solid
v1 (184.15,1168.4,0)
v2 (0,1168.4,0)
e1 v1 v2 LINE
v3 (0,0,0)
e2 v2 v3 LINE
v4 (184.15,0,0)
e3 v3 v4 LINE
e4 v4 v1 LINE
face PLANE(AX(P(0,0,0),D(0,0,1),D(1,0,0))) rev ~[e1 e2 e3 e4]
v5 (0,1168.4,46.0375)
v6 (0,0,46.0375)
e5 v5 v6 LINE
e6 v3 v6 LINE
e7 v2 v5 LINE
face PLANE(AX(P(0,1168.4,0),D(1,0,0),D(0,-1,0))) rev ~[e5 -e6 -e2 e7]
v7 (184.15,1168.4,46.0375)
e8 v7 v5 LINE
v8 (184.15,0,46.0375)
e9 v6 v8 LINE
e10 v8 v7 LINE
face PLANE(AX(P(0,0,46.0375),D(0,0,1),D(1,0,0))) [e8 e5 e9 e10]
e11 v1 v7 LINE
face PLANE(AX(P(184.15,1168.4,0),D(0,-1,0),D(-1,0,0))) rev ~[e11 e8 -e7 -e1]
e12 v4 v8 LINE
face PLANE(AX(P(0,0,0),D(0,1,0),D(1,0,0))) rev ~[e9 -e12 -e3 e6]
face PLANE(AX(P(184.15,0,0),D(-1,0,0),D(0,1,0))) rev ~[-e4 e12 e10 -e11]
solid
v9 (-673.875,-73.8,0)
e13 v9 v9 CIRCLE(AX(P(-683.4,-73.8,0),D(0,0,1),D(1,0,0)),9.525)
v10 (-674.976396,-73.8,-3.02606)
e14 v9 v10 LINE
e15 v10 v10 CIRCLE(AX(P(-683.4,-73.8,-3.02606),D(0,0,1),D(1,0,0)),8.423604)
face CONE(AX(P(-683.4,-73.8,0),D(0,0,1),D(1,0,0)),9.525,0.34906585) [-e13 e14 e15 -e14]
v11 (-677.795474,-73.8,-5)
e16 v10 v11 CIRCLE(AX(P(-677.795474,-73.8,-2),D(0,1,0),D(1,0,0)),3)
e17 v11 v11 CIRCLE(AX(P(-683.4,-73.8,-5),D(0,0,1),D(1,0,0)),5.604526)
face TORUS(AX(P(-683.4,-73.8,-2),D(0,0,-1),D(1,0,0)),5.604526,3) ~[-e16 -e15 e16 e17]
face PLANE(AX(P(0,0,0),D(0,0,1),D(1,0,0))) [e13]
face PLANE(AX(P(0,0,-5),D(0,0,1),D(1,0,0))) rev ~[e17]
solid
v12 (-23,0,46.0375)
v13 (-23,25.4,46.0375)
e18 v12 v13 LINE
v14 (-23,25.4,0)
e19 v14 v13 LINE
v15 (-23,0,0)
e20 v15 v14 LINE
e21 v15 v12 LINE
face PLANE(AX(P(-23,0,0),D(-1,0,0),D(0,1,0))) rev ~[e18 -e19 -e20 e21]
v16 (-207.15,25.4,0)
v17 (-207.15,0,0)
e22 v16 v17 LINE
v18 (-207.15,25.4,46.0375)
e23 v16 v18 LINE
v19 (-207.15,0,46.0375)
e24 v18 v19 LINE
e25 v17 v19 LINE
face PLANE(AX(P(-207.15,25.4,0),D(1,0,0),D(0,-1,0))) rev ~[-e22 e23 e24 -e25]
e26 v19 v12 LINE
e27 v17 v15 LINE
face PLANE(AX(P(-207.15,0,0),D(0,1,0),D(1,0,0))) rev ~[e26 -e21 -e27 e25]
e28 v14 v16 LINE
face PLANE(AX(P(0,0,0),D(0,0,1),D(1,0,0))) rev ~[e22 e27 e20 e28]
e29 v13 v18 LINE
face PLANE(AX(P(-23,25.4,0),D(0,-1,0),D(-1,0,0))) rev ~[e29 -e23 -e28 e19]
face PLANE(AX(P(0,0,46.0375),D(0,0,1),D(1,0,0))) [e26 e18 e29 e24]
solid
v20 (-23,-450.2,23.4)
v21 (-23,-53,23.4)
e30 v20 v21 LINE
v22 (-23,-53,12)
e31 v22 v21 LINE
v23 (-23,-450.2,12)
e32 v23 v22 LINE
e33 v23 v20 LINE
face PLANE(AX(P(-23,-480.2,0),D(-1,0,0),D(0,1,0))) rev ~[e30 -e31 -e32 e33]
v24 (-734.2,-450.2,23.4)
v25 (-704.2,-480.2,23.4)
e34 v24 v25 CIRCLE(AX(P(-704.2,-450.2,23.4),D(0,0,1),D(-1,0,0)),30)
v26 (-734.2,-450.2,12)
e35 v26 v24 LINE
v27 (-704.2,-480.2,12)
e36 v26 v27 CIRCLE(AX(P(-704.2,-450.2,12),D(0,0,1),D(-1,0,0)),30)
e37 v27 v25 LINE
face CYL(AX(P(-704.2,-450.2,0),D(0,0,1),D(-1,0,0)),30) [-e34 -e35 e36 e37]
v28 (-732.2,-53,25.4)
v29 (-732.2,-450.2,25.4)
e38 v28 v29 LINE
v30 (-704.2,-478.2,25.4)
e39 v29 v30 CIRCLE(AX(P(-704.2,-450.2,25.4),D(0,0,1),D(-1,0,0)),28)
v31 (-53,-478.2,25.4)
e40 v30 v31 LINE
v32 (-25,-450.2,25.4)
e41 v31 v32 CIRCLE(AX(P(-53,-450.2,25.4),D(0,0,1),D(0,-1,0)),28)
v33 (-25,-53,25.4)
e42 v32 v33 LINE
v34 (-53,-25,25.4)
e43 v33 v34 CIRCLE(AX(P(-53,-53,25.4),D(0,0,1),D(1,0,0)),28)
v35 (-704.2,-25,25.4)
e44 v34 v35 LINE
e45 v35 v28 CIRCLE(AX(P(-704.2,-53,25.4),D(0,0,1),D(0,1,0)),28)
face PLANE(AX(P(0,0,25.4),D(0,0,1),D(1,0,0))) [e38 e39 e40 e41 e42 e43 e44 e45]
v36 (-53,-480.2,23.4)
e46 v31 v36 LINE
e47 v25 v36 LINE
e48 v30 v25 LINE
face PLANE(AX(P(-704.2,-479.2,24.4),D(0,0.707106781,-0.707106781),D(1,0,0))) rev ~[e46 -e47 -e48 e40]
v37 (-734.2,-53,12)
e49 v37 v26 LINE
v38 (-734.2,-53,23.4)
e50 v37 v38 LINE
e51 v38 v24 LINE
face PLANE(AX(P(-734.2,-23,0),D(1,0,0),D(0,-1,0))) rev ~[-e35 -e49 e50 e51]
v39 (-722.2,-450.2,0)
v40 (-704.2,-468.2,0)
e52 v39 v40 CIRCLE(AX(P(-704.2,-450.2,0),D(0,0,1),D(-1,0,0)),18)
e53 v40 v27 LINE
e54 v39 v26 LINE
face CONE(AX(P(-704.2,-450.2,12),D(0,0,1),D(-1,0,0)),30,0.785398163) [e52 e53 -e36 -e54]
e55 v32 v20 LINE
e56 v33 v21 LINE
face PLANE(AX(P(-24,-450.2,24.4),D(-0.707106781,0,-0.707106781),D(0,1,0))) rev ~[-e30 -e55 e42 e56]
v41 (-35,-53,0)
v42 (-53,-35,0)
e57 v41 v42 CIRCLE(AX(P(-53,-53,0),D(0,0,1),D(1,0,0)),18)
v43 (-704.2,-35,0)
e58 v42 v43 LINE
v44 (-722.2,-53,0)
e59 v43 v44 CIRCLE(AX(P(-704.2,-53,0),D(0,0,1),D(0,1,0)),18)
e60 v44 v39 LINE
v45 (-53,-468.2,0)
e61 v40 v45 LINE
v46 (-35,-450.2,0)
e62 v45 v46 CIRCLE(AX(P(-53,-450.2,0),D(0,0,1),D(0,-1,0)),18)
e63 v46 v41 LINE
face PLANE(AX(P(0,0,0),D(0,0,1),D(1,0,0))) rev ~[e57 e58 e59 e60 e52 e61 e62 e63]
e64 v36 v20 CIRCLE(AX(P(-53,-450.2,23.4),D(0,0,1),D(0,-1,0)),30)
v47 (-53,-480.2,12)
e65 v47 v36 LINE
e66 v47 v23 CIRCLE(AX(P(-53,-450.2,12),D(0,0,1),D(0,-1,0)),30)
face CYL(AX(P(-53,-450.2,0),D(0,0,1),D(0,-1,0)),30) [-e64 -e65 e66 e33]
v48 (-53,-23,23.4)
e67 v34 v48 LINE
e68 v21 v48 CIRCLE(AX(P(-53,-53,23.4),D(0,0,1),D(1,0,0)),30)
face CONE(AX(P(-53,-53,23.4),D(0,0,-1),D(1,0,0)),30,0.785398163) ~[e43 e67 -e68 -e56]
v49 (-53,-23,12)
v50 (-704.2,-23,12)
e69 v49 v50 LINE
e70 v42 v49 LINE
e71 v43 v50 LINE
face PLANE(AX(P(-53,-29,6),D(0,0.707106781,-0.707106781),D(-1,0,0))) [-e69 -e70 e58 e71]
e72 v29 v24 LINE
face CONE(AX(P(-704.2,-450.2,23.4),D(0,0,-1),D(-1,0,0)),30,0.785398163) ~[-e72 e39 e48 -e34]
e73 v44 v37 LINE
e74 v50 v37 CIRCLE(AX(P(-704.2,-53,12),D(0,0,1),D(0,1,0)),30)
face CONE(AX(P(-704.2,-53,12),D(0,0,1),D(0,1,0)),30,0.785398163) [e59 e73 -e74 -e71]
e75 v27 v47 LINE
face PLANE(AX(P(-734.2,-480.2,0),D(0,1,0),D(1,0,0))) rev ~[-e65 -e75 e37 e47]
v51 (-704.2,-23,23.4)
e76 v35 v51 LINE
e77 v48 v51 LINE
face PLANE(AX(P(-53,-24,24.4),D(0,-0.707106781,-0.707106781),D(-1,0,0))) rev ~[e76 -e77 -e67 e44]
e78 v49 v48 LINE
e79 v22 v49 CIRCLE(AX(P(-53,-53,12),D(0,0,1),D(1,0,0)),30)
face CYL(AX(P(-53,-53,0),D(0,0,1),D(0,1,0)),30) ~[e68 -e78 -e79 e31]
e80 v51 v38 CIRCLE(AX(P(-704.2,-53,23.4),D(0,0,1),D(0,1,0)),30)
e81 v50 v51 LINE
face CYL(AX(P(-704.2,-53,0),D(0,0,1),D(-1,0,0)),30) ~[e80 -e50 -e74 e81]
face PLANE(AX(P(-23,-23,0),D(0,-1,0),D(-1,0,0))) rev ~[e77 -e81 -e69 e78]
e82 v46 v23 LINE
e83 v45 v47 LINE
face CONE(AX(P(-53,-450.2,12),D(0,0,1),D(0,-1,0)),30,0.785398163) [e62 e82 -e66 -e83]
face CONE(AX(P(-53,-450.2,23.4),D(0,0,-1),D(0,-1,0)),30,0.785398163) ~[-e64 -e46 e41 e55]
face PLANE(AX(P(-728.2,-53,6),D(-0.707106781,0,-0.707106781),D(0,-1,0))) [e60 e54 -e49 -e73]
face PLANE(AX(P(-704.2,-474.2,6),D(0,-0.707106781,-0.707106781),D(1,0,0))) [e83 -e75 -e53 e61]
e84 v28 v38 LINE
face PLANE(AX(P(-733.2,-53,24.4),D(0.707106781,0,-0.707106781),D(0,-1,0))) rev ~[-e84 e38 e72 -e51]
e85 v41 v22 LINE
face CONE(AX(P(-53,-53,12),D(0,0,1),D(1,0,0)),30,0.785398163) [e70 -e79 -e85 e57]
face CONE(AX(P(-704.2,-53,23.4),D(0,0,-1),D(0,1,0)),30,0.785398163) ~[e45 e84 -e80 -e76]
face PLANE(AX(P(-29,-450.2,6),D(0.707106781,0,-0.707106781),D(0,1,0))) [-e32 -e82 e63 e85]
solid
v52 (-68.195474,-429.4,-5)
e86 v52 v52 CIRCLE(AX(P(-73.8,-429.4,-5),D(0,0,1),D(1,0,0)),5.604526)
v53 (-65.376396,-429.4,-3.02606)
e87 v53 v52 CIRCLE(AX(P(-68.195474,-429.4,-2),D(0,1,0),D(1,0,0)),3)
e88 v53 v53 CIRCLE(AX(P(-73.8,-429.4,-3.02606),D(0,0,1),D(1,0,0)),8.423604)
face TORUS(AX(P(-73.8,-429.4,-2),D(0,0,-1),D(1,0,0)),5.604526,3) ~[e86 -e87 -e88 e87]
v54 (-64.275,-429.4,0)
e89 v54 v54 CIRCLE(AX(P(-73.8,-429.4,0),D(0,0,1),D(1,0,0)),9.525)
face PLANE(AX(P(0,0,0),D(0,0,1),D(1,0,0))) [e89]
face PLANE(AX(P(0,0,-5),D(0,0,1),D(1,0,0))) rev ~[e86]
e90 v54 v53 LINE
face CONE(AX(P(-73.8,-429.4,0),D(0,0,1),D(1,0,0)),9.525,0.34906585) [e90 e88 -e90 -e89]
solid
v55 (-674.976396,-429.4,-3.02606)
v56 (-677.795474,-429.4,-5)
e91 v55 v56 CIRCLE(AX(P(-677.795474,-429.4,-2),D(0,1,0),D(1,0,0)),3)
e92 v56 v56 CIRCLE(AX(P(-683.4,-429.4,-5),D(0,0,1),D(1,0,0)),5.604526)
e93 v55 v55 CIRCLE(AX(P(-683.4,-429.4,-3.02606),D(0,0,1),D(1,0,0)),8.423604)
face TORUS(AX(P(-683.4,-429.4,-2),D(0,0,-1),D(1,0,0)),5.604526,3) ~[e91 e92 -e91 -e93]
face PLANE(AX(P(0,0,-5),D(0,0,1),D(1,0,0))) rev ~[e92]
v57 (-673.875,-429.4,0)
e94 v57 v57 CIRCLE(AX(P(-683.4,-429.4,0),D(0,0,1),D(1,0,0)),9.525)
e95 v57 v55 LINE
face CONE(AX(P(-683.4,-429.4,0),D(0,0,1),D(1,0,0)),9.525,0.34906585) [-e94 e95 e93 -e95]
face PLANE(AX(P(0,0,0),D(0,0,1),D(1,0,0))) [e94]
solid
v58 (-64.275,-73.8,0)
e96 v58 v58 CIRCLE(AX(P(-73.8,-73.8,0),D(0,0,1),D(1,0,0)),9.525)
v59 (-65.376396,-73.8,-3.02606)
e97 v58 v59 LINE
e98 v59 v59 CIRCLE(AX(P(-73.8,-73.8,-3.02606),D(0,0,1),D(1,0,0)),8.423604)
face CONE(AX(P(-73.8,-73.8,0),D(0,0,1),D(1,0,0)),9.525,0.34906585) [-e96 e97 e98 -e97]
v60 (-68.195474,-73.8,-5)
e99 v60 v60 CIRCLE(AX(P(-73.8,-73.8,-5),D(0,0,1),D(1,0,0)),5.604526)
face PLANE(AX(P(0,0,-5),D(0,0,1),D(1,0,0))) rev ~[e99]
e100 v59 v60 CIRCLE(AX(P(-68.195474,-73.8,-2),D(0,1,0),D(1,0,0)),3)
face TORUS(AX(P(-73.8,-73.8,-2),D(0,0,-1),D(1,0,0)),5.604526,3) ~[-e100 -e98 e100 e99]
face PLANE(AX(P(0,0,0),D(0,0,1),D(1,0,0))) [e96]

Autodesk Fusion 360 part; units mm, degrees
sketch "Sketch1" plane through (0, 0, 0) normal (0, 0, 1) x (1, 0, 0) in component "stock"
  line L0 (0, 0) -> (184.15, 0)
  line L1 (184.15, 0) -> (184.15, 1168.4)
  line L2 (184.15, 1168.4) -> (0, 1168.4)
  line L3 (0, 1168.4) -> (0, 0)
  line L4 (-207.15, 0) -> (-23, 0)
  line L5 (-23, 0) -> (-23, 25.4)
  line L6 (-23, 25.4) -> (-207.15, 25.4)
  line L7 (-207.15, 25.4) -> (-207.15, 0)
  line L8 (-207.15, 27.4) -> (-23, 27.4)
  line L9 (-23, 27.4) -> (-23, 52.8)
  line L10 (-207.15, 52.8) -> (-207.15, 27.4)
  line L11 (-23, 52.8) -> (-207.15, 52.8)
  line L12 (-207.15, 54.8) -> (-23, 54.8)
  line L13 (-23, 54.8) -> (-23, 80.2)
  line L14 (-207.15, 80.2) -> (-207.15, 54.8)
  line L15 (-23, 80.2) -> (-207.15, 80.2)
  line L16 (-207.15, 82.2) -> (-23, 82.2)
  line L17 (-23, 82.2) -> (-23, 107.6)
  line L18 (-207.15, 107.6) -> (-207.15, 82.2)
  line L19 (-23, 107.6) -> (-207.15, 107.6)
  line L20 (-207.15, 109.6) -> (-23, 109.6)
  line L21 (-23, 109.6) -> (-23, 135)
  line L22 (-207.15, 135) -> (-207.15, 109.6)
  line L23 (-23, 135) -> (-207.15, 135)
  line L24 (-207.15, 137) -> (-23, 137)
  line L25 (-23, 137) -> (-23, 162.4)
  line L26 (-207.15, 162.4) -> (-207.15, 137)
  line L27 (-23, 162.4) -> (-207.15, 162.4)
  line L28 (-207.15, 164.4) -> (-23, 164.4)
  line L29 (-23, 164.4) -> (-23, 189.8)
  line L30 (-207.15, 189.8) -> (-207.15, 164.4)
  line L31 (-23, 189.8) -> (-207.15, 189.8)
  line L32 (-207.15, 191.8) -> (-23, 191.8)
  line L33 (-23, 191.8) -> (-23, 217.2)
  line L34 (-207.15, 217.2) -> (-207.15, 191.8)
  line L35 (-23, 217.2) -> (-207.15, 217.2)
  line L36 (-207.15, 219.2) -> (-23, 219.2)
  line L37 (-23, 219.2) -> (-23, 244.6)
  line L38 (-207.15, 244.6) -> (-207.15, 219.2)
  line L39 (-23, 244.6) -> (-207.15, 244.6)
  line L40 (-207.15, 246.6) -> (-23, 246.6)
  line L41 (-23, 246.6) -> (-23, 272)
  line L42 (-207.15, 272) -> (-207.15, 246.6)
  line L43 (-23, 272) -> (-207.15, 272)
  line L44 (-207.15, 274) -> (-23, 274)
  line L45 (-23, 274) -> (-23, 299.4)
  line L46 (-207.15, 299.4) -> (-207.15, 274)
  line L47 (-23, 299.4) -> (-207.15, 299.4)
  line L48 (-207.15, 301.4) -> (-23, 301.4)
  line L49 (-23, 301.4) -> (-23, 326.8)
  line L50 (-207.15, 326.8) -> (-207.15, 301.4)
  line L51 (-23, 326.8) -> (-207.15, 326.8)
  line L52 (-207.15, 328.8) -> (-23, 328.8)
  line L53 (-23, 328.8) -> (-23, 354.2)
  line L54 (-207.15, 354.2) -> (-207.15, 328.8)
  line L55 (-23, 354.2) -> (-207.15, 354.2)
  line L56 (-207.15, 356.2) -> (-23, 356.2)
  line L57 (-23, 356.2) -> (-23, 381.6)
  line L58 (-207.15, 381.6) -> (-207.15, 356.2)
  line L59 (-23, 381.6) -> (-207.15, 381.6)
  line L60 (-207.15, 383.6) -> (-23, 383.6)
  line L61 (-23, 383.6) -> (-23, 409)
  line L62 (-207.15, 409) -> (-207.15, 383.6)
  line L63 (-23, 409) -> (-207.15, 409)
  line L64 (-207.15, 411) -> (-23, 411)
  line L65 (-23, 411) -> (-23, 436.4)
  line L66 (-207.15, 436.4) -> (-207.15, 411)
  line L67 (-23, 436.4) -> (-207.15, 436.4)
  line L68 (-207.15, 438.4) -> (-23, 438.4)
  line L69 (-23, 438.4) -> (-23, 463.8)
  line L70 (-207.15, 463.8) -> (-207.15, 438.4)
  line L71 (-23, 463.8) -> (-207.15, 463.8)
  line L72 (-207.15, 465.8) -> (-23, 465.8)
  line L73 (-23, 465.8) -> (-23, 491.2)
  line L74 (-207.15, 491.2) -> (-207.15, 465.8)
  line L75 (-23, 491.2) -> (-207.15, 491.2)
  line L76 (-207.15, 493.2) -> (-23, 493.2)
  line L77 (-23, 493.2) -> (-23, 518.6)
  line L78 (-207.15, 518.6) -> (-207.15, 493.2)
  line L79 (-23, 518.6) -> (-207.15, 518.6)
  line L80 (-207.15, 520.6) -> (-23, 520.6)
  line L81 (-23, 520.6) -> (-23, 546)
  line L82 (-207.15, 546) -> (-207.15, 520.6)
  line L83 (-23, 546) -> (-207.15, 546)
  line L84 (-207.15, 548) -> (-23, 548)
  line L85 (-23, 548) -> (-23, 573.4)
  line L86 (-207.15, 573.4) -> (-207.15, 548)
  line L87 (-23, 573.4) -> (-207.15, 573.4)
  line L88 (-207.15, 575.4) -> (-23, 575.4)
  line L89 (-23, 575.4) -> (-23, 600.8)
  line L90 (-207.15, 600.8) -> (-207.15, 575.4)
  line L91 (-23, 600.8) -> (-207.15, 600.8)
  line L92 (-207.15, 602.8) -> (-23, 602.8)
  line L93 (-23, 602.8) -> (-23, 628.2)
  line L94 (-207.15, 628.2) -> (-207.15, 602.8)
  line L95 (-23, 628.2) -> (-207.15, 628.2)
  line L96 (-207.15, 630.2) -> (-23, 630.2)
  line L97 (-23, 630.2) -> (-23, 655.6)
  line L98 (-207.15, 655.6) -> (-207.15, 630.2)
  line L99 (-23, 655.6) -> (-207.15, 655.6)
  line L100 (-207.15, 657.6) -> (-23, 657.6)
  line L101 (-23, 657.6) -> (-23, 683)
  line L102 (-207.15, 683) -> (-207.15, 657.6)
  line L103 (-23, 683) -> (-207.15, 683)
  line L104 (-207.15, 685) -> (-23, 685)
  line L105 (-23, 685) -> (-23, 710.4)
  line L106 (-207.15, 710.4) -> (-207.15, 685)
  line L107 (-23, 710.4) -> (-207.15, 710.4)
  line L108 (-207.15, 712.4) -> (-23, 712.4)
  line L109 (-23, 712.4) -> (-23, 737.8)
  line L110 (-207.15, 737.8) -> (-207.15, 712.4)
  line L111 (-23, 737.8) -> (-207.15, 737.8)
  line L112 (-207.15, 739.8) -> (-23, 739.8)
  line L113 (-23, 739.8) -> (-23, 765.2)
  line L114 (-207.15, 765.2) -> (-207.15, 739.8)
  line L115 (-23, 765.2) -> (-207.15, 765.2)
  line L116 (-207.15, 767.2) -> (-23, 767.2)
  line L117 (-23, 767.2) -> (-23, 792.6)
  line L118 (-207.15, 792.6) -> (-207.15, 767.2)
  line L119 (-23, 792.6) -> (-207.15, 792.6)
  line L120 (-207.15, 794.6) -> (-23, 794.6)
  line L121 (-23, 794.6) -> (-23, 820)
  line L122 (-207.15, 820) -> (-207.15, 794.6)
  line L123 (-23, 820) -> (-207.15, 820)
  line L124 (-207.15, 822) -> (-23, 822)
  line L125 (-23, 822) -> (-23, 847.4)
  line L126 (-207.15, 847.4) -> (-207.15, 822)
  line L127 (-23, 847.4) -> (-207.15, 847.4)
  line L128 (-207.15, 849.4) -> (-23, 849.4)
  line L129 (-23, 849.4) -> (-23, 874.8)
  line L130 (-207.15, 874.8) -> (-207.15, 849.4)
  line L131 (-23, 874.8) -> (-207.15, 874.8)
  line L132 (-207.15, 876.8) -> (-23, 876.8)
  line L133 (-23, 876.8) -> (-23, 902.2)
  line L134 (-207.15, 902.2) -> (-207.15, 876.8)
  line L135 (-23, 902.2) -> (-207.15, 902.2)
  line L136 (207.15, 1168.4) -> (207.15, 0)
  line L137 (207.15, 0) -> (391.3, 0)
  line L138 (391.3, 1168.4) -> (207.15, 1168.4)
  line L139 (391.3, 0) -> (391.3, 1168.4)
  line L140 (414.3, 1168.4) -> (414.3, 0)
  line L141 (414.3, 0) -> (598.45, 0)
  line L142 (598.45, 1168.4) -> (414.3, 1168.4)
  line L143 (598.45, 0) -> (598.45, 1168.4)
  line L144 (-207.15, 904.2) -> (-23, 904.2)
  line L145 (-23, 904.2) -> (-23, 929.6)
  line L146 (-207.15, 929.6) -> (-207.15, 904.2)
  line L147 (-23, 929.6) -> (-207.15, 929.6)
  line L148 (-207.15, 931.6) -> (-23, 931.6)
  line L149 (-23, 931.6) -> (-23, 957)
  line L150 (-207.15, 957) -> (-207.15, 931.6)
  line L151 (-23, 957) -> (-207.15, 957)
  line L152 (-207.15, 959) -> (-23, 959)
  line L153 (-23, 959) -> (-23, 984.4)
  line L154 (-207.15, 984.4) -> (-207.15, 959)
  line L155 (-23, 984.4) -> (-207.15, 984.4)
  line L156 (-207.15, 986.4) -> (-23, 986.4)
  line L157 (-23, 986.4) -> (-23, 1011.8)
  line L158 (-207.15, 1011.8) -> (-207.15, 986.4)
  line L159 (-23, 1011.8) -> (-207.15, 1011.8)
  line L160 (-207.15, 1013.8) -> (-23, 1013.8)
  line L161 (-23, 1013.8) -> (-23, 1039.2)
  line L162 (-207.15, 1039.2) -> (-207.15, 1013.8)
  line L163 (-23, 1039.2) -> (-207.15, 1039.2)
  line L164 (-207.15, 1041.2) -> (-23, 1041.2)
  line L165 (-23, 1041.2) -> (-23, 1066.6)
  line L166 (-207.15, 1066.6) -> (-207.15, 1041.2)
  line L167 (-23, 1066.6) -> (-207.15, 1066.6)
  line L168 (-207.15, 1068.6) -> (-23, 1068.6)
  line L169 (-23, 1068.6) -> (-23, 1094)
  line L170 (-207.15, 1094) -> (-207.15, 1068.6)
  line L171 (-23, 1094) -> (-207.15, 1094)
  line L172 (-207.15, 1096) -> (-23, 1096)
  line L173 (-23, 1096) -> (-23, 1121.4)
  line L174 (-207.15, 1121.4) -> (-207.15, 1096)
  line L175 (-23, 1121.4) -> (-207.15, 1121.4)
  line L176 (-207.15, 1123.4) -> (-23, 1123.4)
  line L177 (-23, 1123.4) -> (-23, 1148.8)
  line L178 (-207.15, 1148.8) -> (-207.15, 1123.4)
  line L179 (-23, 1148.8) -> (-207.15, 1148.8)
  dimension "d4" = 184.15
  dimension "d5" = 1168.4
  dimension "d19" = 184.15
  dimension "d20" = 25.4
  dimension "d25" = 0
  dimension "d26" = 27.4
  dimension "d27" = 23
  dimension "d30" = 207.15
  dimension "d31" = 0
sketch "Sketch1 (2)" plane through (0, 0, 0) normal (0, 0, 1) x (1, 0, 0) in component "board"
  line L0 (-734.2, -480.2) -> (-23, -480.2)
  line L1 (-23, -480.2) -> (-23, -23)
  line L2 (-23, -23) -> (-734.2, -23)
  line L3 (-734.2, -23) -> (-734.2, -480.2)
  line L4 (0, -23) -> (184.15, -23)
  line L5 (184.15, -23) -> (184.15, -69.0375)
  line L6 (184.15, -69.0375) -> (0, -69.0375)
  line L7 (0, -69.0375) -> (0, -23)
  line L8 (0, -23) -> (711.2, -23) construction
  line L9 (711.2, -23) -> (711.2, -480.2) construction
  line L10 (711.2, -480.2) -> (0, -480.2) construction
  line L11 (0, -480.2) -> (0, -23) construction
  line L12 (184.15, -69.0375) -> (184.15, -23)
  line L13 (184.15, -23) -> (368.3, -23)
  line L14 (368.3, -69.0375) -> (184.15, -69.0375)
  line L15 (368.3, -23) -> (368.3, -69.0375)
  line L16 (368.3, -69.0375) -> (368.3, -23)
  line L17 (368.3, -23) -> (552.45, -23)
  line L18 (552.45, -69.0375) -> (368.3, -69.0375)
  line L19 (552.45, -23) -> (552.45, -69.0375)
  line L20 (552.45, -69.0375) -> (552.45, -23)
  line L21 (552.45, -23) -> (736.6, -23)
  line L22 (736.6, -69.0375) -> (552.45, -69.0375)
  line L23 (736.6, -23) -> (736.6, -69.0375)
  line L24 (0, -115.075) -> (0, -69.0375)
  line L25 (0, -69.0375) -> (184.15, -69.0375)
  line L26 (184.15, -115.075) -> (0, -115.075)
  line L27 (184.15, -69.0375) -> (184.15, -115.075)
  line L28 (184.15, -115.075) -> (184.15, -69.0375)
  line L29 (184.15, -69.0375) -> (368.3, -69.0375)
  line L30 (368.3, -115.075) -> (184.15, -115.075)
  line L31 (368.3, -69.0375) -> (368.3, -115.075)
  line L32 (368.3, -115.075) -> (368.3, -69.0375)
  line L33 (368.3, -69.0375) -> (552.45, -69.0375)
  line L34 (552.45, -115.075) -> (368.3, -115.075)
  line L35 (552.45, -69.0375) -> (552.45, -115.075)
  line L36 (552.45, -115.075) -> (552.45, -69.0375)
  line L37 (552.45, -69.0375) -> (736.6, -69.0375)
  line L38 (736.6, -115.075) -> (552.45, -115.075)
  line L39 (736.6, -69.0375) -> (736.6, -115.075)
  line L40 (0, -161.1125) -> (0, -115.075)
  line L41 (0, -115.075) -> (184.15, -115.075)
  line L42 (184.15, -161.1125) -> (0, -161.1125)
  line L43 (184.15, -115.075) -> (184.15, -161.1125)
  line L44 (184.15, -161.1125) -> (184.15, -115.075)
  line L45 (184.15, -115.075) -> (368.3, -115.075)
  line L46 (368.3, -161.1125) -> (184.15, -161.1125)
  line L47 (368.3, -115.075) -> (368.3, -161.1125)
  line L48 (368.3, -161.1125) -> (368.3, -115.075)
  line L49 (368.3, -115.075) -> (552.45, -115.075)
  line L50 (552.45, -161.1125) -> (368.3, -161.1125)
  line L51 (552.45, -115.075) -> (552.45, -161.1125)
  line L52 (552.45, -161.1125) -> (552.45, -115.075)
  line L53 (552.45, -115.075) -> (736.6, -115.075)
  line L54 (736.6, -161.1125) -> (552.45, -161.1125)
  line L55 (736.6, -115.075) -> (736.6, -161.1125)
  line L56 (0, -207.15) -> (0, -161.1125)
  line L57 (0, -161.1125) -> (184.15, -161.1125)
  line L58 (184.15, -207.15) -> (0, -207.15)
  line L59 (184.15, -161.1125) -> (184.15, -207.15)
  line L60 (184.15, -207.15) -> (184.15, -161.1125)
  line L61 (184.15, -161.1125) -> (368.3, -161.1125)
  line L62 (368.3, -207.15) -> (184.15, -207.15)
  line L63 (368.3, -161.1125) -> (368.3, -207.15)
  line L64 (368.3, -207.15) -> (368.3, -161.1125)
  line L65 (368.3, -161.1125) -> (552.45, -161.1125)
  line L66 (552.45, -207.15) -> (368.3, -207.15)
  line L67 (552.45, -161.1125) -> (552.45, -207.15)
  line L68 (552.45, -207.15) -> (552.45, -161.1125)
  line L69 (552.45, -161.1125) -> (736.6, -161.1125)
  line L70 (736.6, -207.15) -> (552.45, -207.15)
  line L71 (736.6, -161.1125) -> (736.6, -207.15)
  line L72 (0, -253.1875) -> (0, -207.15)
  line L73 (0, -207.15) -> (184.15, -207.15)
  line L74 (184.15, -253.1875) -> (0, -253.1875)
  line L75 (184.15, -207.15) -> (184.15, -253.1875)
  line L76 (184.15, -253.1875) -> (184.15, -207.15)
  line L77 (184.15, -207.15) -> (368.3, -207.15)
  line L78 (368.3, -253.1875) -> (184.15, -253.1875)
  line L79 (368.3, -207.15) -> (368.3, -253.1875)
  line L80 (368.3, -253.1875) -> (368.3, -207.15)
  line L81 (368.3, -207.15) -> (552.45, -207.15)
  line L82 (552.45, -253.1875) -> (368.3, -253.1875)
  line L83 (552.45, -207.15) -> (552.45, -253.1875)
  line L84 (552.45, -253.1875) -> (552.45, -207.15)
  line L85 (552.45, -207.15) -> (736.6, -207.15)
  line L86 (736.6, -253.1875) -> (552.45, -253.1875)
  line L87 (736.6, -207.15) -> (736.6, -253.1875)
  line L88 (0, -299.225) -> (0, -253.1875)
  line L89 (0, -253.1875) -> (184.15, -253.1875)
  line L90 (184.15, -299.225) -> (0, -299.225)
  line L91 (184.15, -253.1875) -> (184.15, -299.225)
  line L92 (184.15, -299.225) -> (184.15, -253.1875)
  line L93 (184.15, -253.1875) -> (368.3, -253.1875)
  line L94 (368.3, -299.225) -> (184.15, -299.225)
  line L95 (368.3, -253.1875) -> (368.3, -299.225)
  line L96 (368.3, -299.225) -> (368.3, -253.1875)
  line L97 (368.3, -253.1875) -> (552.45, -253.1875)
  line L98 (552.45, -299.225) -> (368.3, -299.225)
  line L99 (552.45, -253.1875) -> (552.45, -299.225)
  line L100 (552.45, -299.225) -> (552.45, -253.1875)
  line L101 (552.45, -253.1875) -> (736.6, -253.1875)
  line L102 (736.6, -299.225) -> (552.45, -299.225)
  line L103 (736.6, -253.1875) -> (736.6, -299.225)
  line L104 (0, -345.2625) -> (0, -299.225)
  line L105 (0, -299.225) -> (184.15, -299.225)
  line L106 (184.15, -345.2625) -> (0, -345.2625)
  line L107 (184.15, -299.225) -> (184.15, -345.2625)
  line L108 (184.15, -345.2625) -> (184.15, -299.225)
  line L109 (184.15, -299.225) -> (368.3, -299.225)
  line L110 (368.3, -345.2625) -> (184.15, -345.2625)
  line L111 (368.3, -299.225) -> (368.3, -345.2625)
  line L112 (368.3, -345.2625) -> (368.3, -299.225)
  line L113 (368.3, -299.225) -> (552.45, -299.225)
  line L114 (552.45, -345.2625) -> (368.3, -345.2625)
  line L115 (552.45, -299.225) -> (552.45, -345.2625)
  line L116 (552.45, -345.2625) -> (552.45, -299.225)
  line L117 (552.45, -299.225) -> (736.6, -299.225)
  line L118 (736.6, -345.2625) -> (552.45, -345.2625)
  line L119 (736.6, -299.225) -> (736.6, -345.2625)
  line L120 (0, -391.3) -> (0, -345.2625)
  line L121 (0, -345.2625) -> (184.15, -345.2625)
  line L122 (184.15, -391.3) -> (0, -391.3)
  line L123 (184.15, -345.2625) -> (184.15, -391.3)
  line L124 (184.15, -391.3) -> (184.15, -345.2625)
  line L125 (184.15, -345.2625) -> (368.3, -345.2625)
  line L126 (368.3, -391.3) -> (184.15, -391.3)
  line L127 (368.3, -345.2625) -> (368.3, -391.3)
  line L128 (368.3, -391.3) -> (368.3, -345.2625)
  line L129 (368.3, -345.2625) -> (552.45, -345.2625)
  line L130 (552.45, -391.3) -> (368.3, -391.3)
  line L131 (552.45, -345.2625) -> (552.45, -391.3)
  line L132 (552.45, -391.3) -> (552.45, -345.2625)
  line L133 (552.45, -345.2625) -> (736.6, -345.2625)
  line L134 (736.6, -391.3) -> (552.45, -391.3)
  line L135 (736.6, -345.2625) -> (736.6, -391.3)
  line L136 (0, -437.3375) -> (0, -391.3)
  line L137 (0, -391.3) -> (184.15, -391.3)
  line L138 (184.15, -437.3375) -> (0, -437.3375)
  line L139 (184.15, -391.3) -> (184.15, -437.3375)
  line L140 (184.15, -437.3375) -> (184.15, -391.3)
  line L141 (184.15, -391.3) -> (368.3, -391.3)
  line L142 (368.3, -437.3375) -> (184.15, -437.3375)
  line L143 (368.3, -391.3) -> (368.3, -437.3375)
  line L144 (368.3, -437.3375) -> (368.3, -391.3)
  line L145 (368.3, -391.3) -> (552.45, -391.3)
  line L146 (552.45, -437.3375) -> (368.3, -437.3375)
  line L147 (552.45, -391.3) -> (552.45, -437.3375)
  line L148 (552.45, -437.3375) -> (552.45, -391.3)
  line L149 (552.45, -391.3) -> (736.6, -391.3)
  line L150 (736.6, -437.3375) -> (552.45, -437.3375)
  line L151 (736.6, -391.3) -> (736.6, -437.3375)
  line L152 (0, -483.375) -> (0, -437.3375)
  line L153 (0, -437.3375) -> (184.15, -437.3375)
  line L154 (184.15, -483.375) -> (0, -483.375)
  line L155 (184.15, -437.3375) -> (184.15, -483.375)
  line L156 (184.15, -483.375) -> (184.15, -437.3375)
  line L157 (184.15, -437.3375) -> (368.3, -437.3375)
  line L158 (368.3, -483.375) -> (184.15, -483.375)
  line L159 (368.3, -437.3375) -> (368.3, -483.375)
  line L160 (368.3, -483.375) -> (368.3, -437.3375)
  line L161 (368.3, -437.3375) -> (552.45, -437.3375)
  line L162 (552.45, -483.375) -> (368.3, -483.375)
  line L163 (552.45, -437.3375) -> (552.45, -483.375)
  line L164 (552.45, -483.375) -> (552.45, -437.3375)
  line L165 (552.45, -437.3375) -> (736.6, -437.3375)
  line L166 (736.6, -483.375) -> (552.45, -483.375)
  line L167 (736.6, -437.3375) -> (736.6, -483.375)
  line L168 (-683.4, -429.4) -> (-73.8, -429.4) construction
  line L169 (-73.8, -429.4) -> (-73.8, -73.8) construction
  line L170 (-73.8, -73.8) -> (-683.4, -73.8) construction
  line L171 (-683.4, -73.8) -> (-683.4, -429.4) construction
  circle A0 centre (-683.4, -73.8) radius 9.525
  circle A1 centre (-73.8, -73.8) radius 9.525
  circle A2 centre (-73.8, -429.4) radius 9.525
  circle A3 centre (-683.4, -429.4) radius 9.525
  dimension "d14" = 711.2
  dimension "d15" = 457.2
  dimension "d36" = 23
  dimension "d38" = 23
  dimension "d39" = 184.15
  dimension "d40" = 46.0375
  dimension "d41" = 23
  dimension "d42" = 711.2
  dimension "d43" = 457.2
  dimension "d46" = 184.15
  dimension "d79" = 19.05
  dimension "d80" = 19.05
  dimension "d81" = 19.05
  dimension "d82" = 19.05
extrude "Extrude2" add sketch "Sketch1" along normal blind 46.0375 contours L0 L1 L2 L3 makes body 1 in component "stock"
extrude "Extrude3" add sketch "Sketch1" along normal blind 46.0375 separate body contours L4 L5 L6 L7 makes body 2 in component "stock"
sketch "Sketch2" plane through (0, 0, 0) normal (0, 0, 1) x (1, 0, 0) in component "actual"
  line L0 (0, 0) -> (129.54, 0)
  line L1 (129.54, 0) -> (129.54, 46.0375)
  line L2 (129.54, 46.0375) -> (0, 46.0375)
  line L3 (0, 46.0375) -> (0, 0)
  line L4 (129.54, 0) -> (302.26, 0)
  line L5 (302.26, 0) -> (302.26, 46.0375)
  line L6 (302.26, 46.0375) -> (129.54, 46.0375)
  line L7 (129.54, 46.0375) -> (129.54, 0)
  line L8 (302.26, 0) -> (431.8, 0)
  line L9 (431.8, 0) -> (431.8, 46.0375)
  line L10 (431.8, 46.0375) -> (302.26, 46.0375)
  line L11 (302.26, 46.0375) -> (302.26, 0)
  line L12 (431.8, 0) -> (584.2, 0)
  line L13 (584.2, 0) -> (584.2, 46.0375)
  line L14 (584.2, 46.0375) -> (431.8, 46.0375)
  line L15 (431.8, 46.0375) -> (431.8, 0)
  line L16 (584.2, 0) -> (736.6, 0)
  line L17 (736.6, 0) -> (736.6, 46.0375)
  line L18 (736.6, 46.0375) -> (584.2, 46.0375)
  line L19 (584.2, 46.0375) -> (584.2, 0)
  line L20 (736.6, 0) -> (909.32, 0)
  line L21 (909.32, 0) -> (909.32, 46.0375)
  line L22 (909.32, 46.0375) -> (736.6, 46.0375)
  line L23 (736.6, 46.0375) -> (736.6, 0)
  line L24 (606.82, -46.0375) -> (779.54, -46.0375)
  line L25 (324.88, 0) -> (172.48, 0)
  line L26 (606.82, -46.0375) -> (606.82, 0)
  line L27 (477.28, 0) -> (477.28, -46.0375)
  line L28 (324.88, 0) -> (324.88, -46.0375)
  line L29 (324.88, -46.0375) -> (477.28, -46.0375)
  line L30 (172.48, 0) -> (-0.24, 0)
  line L31 (477.28, 0) -> (324.88, 0)
  line L32 (-0.24, 0) -> (-0.24, -46.0375)
  line L33 (-0.24, -46.0375) -> (172.48, -46.0375)
  line L34 (172.48, -46.0375) -> (172.48, 0)
  line L35 (172.48, 0) -> (172.48, -46.0375)
  line L36 (324.88, -46.0375) -> (324.88, 0)
  line L37 (779.54, -46.0375) -> (909.08, -46.0375)
  line L38 (779.54, -46.0375) -> (779.54, 0)
  line L39 (477.28, -46.0375) -> (606.82, -46.0375)
  line L40 (909.08, 0) -> (779.54, 0)
  line L41 (909.08, -46.0375) -> (909.08, 0)
  line L42 (606.82, 0) -> (477.28, 0)
  line L43 (779.54, 0) -> (606.82, 0)
  line L44 (779.54, 0) -> (779.54, -46.0375)
  line L45 (606.82, 0) -> (606.82, -46.0375)
  line L46 (172.48, -46.0375) -> (324.88, -46.0375)
  line L47 (477.28, -46.0375) -> (477.28, 0)
  line L48 (-0.24, -138.1125) -> (172.48, -138.1125)
  line L49 (324.88, -92.075) -> (324.88, -138.1125)
  line L50 (129.54, -46.0375) -> (0, -46.0375)
  line L51 (584.2, -92.075) -> (736.6, -92.075)
  line L52 (431.8, -92.075) -> (584.2, -92.075)
  line L53 (324.88, -92.075) -> (172.48, -92.075)
  line L54 (477.28, -138.1125) -> (606.82, -138.1125)
  line L55 (584.2, -46.0375) -> (584.2, -92.075)
  line L56 (606.82, -92.075) -> (477.28, -92.075)
  line L57 (584.2, -92.075) -> (584.2, -46.0375)
  line L58 (324.88, -138.1125) -> (324.88, -92.075)
  line L59 (172.48, -92.075) -> (172.48, -138.1125)
  line L60 (302.26, -92.075) -> (302.26, -46.0375)
  line L61 (736.6, -46.0375) -> (584.2, -46.0375)
  line L62 (736.6, -92.075) -> (909.32, -92.075)
  line L63 (606.82, -92.075) -> (606.82, -138.1125)
  line L64 (736.6, -92.075) -> (736.6, -46.0375)
  line L65 (909.32, -92.075) -> (909.32, -46.0375)
  line L66 (909.08, -138.1125) -> (909.08, -92.075)
  line L67 (909.32, -46.0375) -> (736.6, -46.0375)
  line L68 (736.6, -46.0375) -> (736.6, -92.075)
  line L69 (606.82, -138.1125) -> (606.82, -92.075)
  line L70 (779.54, -138.1125) -> (909.08, -138.1125)
  line L71 (779.54, -92.075) -> (606.82, -92.075)
  line L72 (779.54, -138.1125) -> (779.54, -92.075)
  line L73 (909.08, -92.075) -> (779.54, -92.075)
  line L74 (779.54, -92.075) -> (779.54, -138.1125)
  line L75 (606.82, -138.1125) -> (779.54, -138.1125)
  line L76 (172.48, -138.1125) -> (324.88, -138.1125)
  line L77 (129.54, -92.075) -> (302.26, -92.075)
  line L78 (477.28, -138.1125) -> (477.28, -92.075)
  line L79 (302.26, -46.0375) -> (129.54, -46.0375)
  line L80 (172.48, -92.075) -> (-0.24, -92.075)
  line L81 (431.8, -92.075) -> (431.8, -46.0375)
  line L82 (477.28, -92.075) -> (324.88, -92.075)
  line L83 (431.8, -46.0375) -> (302.26, -46.0375)
  line L84 (477.28, -92.075) -> (477.28, -138.1125)
  line L85 (129.54, -92.075) -> (129.54, -46.0375)
  line L86 (0, -92.075) -> (129.54, -92.075)
  line L87 (0, -46.0375) -> (0, -92.075)
  line L88 (302.26, -46.0375) -> (302.26, -92.075)
  line L89 (584.2, -46.0375) -> (431.8, -46.0375)
  line L90 (172.48, -138.1125) -> (172.48, -92.075)
  line L91 (129.54, -46.0375) -> (129.54, -92.075)
  line L92 (431.8, -46.0375) -> (431.8, -92.075)
  line L93 (-0.24, -92.075) -> (-0.24, -138.1125)
  line L94 (302.26, -92.075) -> (431.8, -92.075)
  line L95 (324.88, -138.1125) -> (477.28, -138.1125)
  line L96 (-0.24, -230.1875) -> (172.48, -230.1875)
  line L97 (324.88, -184.15) -> (324.88, -230.1875)
  line L98 (129.54, -138.1125) -> (0, -138.1125)
  line L99 (584.2, -184.15) -> (736.6, -184.15)
  line L100 (431.8, -184.15) -> (584.2, -184.15)
  line L101 (324.88, -184.15) -> (172.48, -184.15)
  line L102 (477.28, -230.1875) -> (606.82, -230.1875)
  line L103 (584.2, -138.1125) -> (584.2, -184.15)
  line L104 (606.82, -184.15) -> (477.28, -184.15)
  line L105 (584.2, -184.15) -> (584.2, -138.1125)
  line L106 (324.88, -230.1875) -> (324.88, -184.15)
  line L107 (172.48, -184.15) -> (172.48, -230.1875)
  line L108 (302.26, -184.15) -> (302.26, -138.1125)
  line L109 (736.6, -138.1125) -> (584.2, -138.1125)
  line L110 (736.6, -184.15) -> (909.32, -184.15)
  line L111 (606.82, -184.15) -> (606.82, -230.1875)
  line L112 (736.6, -184.15) -> (736.6, -138.1125)
  line L113 (909.32, -184.15) -> (909.32, -138.1125)
  line L114 (909.08, -230.1875) -> (909.08, -184.15)
  line L115 (909.32, -138.1125) -> (736.6, -138.1125)
  line L116 (736.6, -138.1125) -> (736.6, -184.15)
  line L117 (606.82, -230.1875) -> (606.82, -184.15)
  line L118 (779.54, -230.1875) -> (909.08, -230.1875)
  line L119 (779.54, -184.15) -> (606.82, -184.15)
  line L120 (779.54, -230.1875) -> (779.54, -184.15)
  line L121 (909.08, -184.15) -> (779.54, -184.15)
  line L122 (779.54, -184.15) -> (779.54, -230.1875)
  line L123 (606.82, -230.1875) -> (779.54, -230.1875)
  line L124 (172.48, -230.1875) -> (324.88, -230.1875)
  line L125 (129.54, -184.15) -> (302.26, -184.15)
  line L126 (477.28, -230.1875) -> (477.28, -184.15)
  line L127 (302.26, -138.1125) -> (129.54, -138.1125)
  line L128 (172.48, -184.15) -> (-0.24, -184.15)
  line L129 (431.8, -184.15) -> (431.8, -138.1125)
  line L130 (477.28, -184.15) -> (324.88, -184.15)
  line L131 (431.8, -138.1125) -> (302.26, -138.1125)
  line L132 (477.28, -184.15) -> (477.28, -230.1875)
  line L133 (129.54, -184.15) -> (129.54, -138.1125)
  line L134 (0, -184.15) -> (129.54, -184.15)
  line L135 (0, -138.1125) -> (0, -184.15)
  line L136 (302.26, -138.1125) -> (302.26, -184.15)
  line L137 (584.2, -138.1125) -> (431.8, -138.1125)
  line L138 (172.48, -230.1875) -> (172.48, -184.15)
  line L139 (129.54, -138.1125) -> (129.54, -184.15)
  line L140 (431.8, -138.1125) -> (431.8, -184.15)
  line L141 (-0.24, -184.15) -> (-0.24, -230.1875)
  line L142 (302.26, -184.15) -> (431.8, -184.15)
  line L143 (324.88, -230.1875) -> (477.28, -230.1875)
  line L144 (-0.24, -322.2625) -> (172.48, -322.2625)
  line L145 (324.88, -276.225) -> (324.88, -322.2625)
  line L146 (129.54, -230.1875) -> (0, -230.1875)
  line L147 (584.2, -276.225) -> (736.6, -276.225)
  line L148 (431.8, -276.225) -> (584.2, -276.225)
  line L149 (324.88, -276.225) -> (172.48, -276.225)
  line L150 (477.28, -322.2625) -> (606.82, -322.2625)
  line L151 (584.2, -230.1875) -> (584.2, -276.225)
  line L152 (606.82, -276.225) -> (477.28, -276.225)
  line L153 (584.2, -276.225) -> (584.2, -230.1875)
  line L154 (324.88, -322.2625) -> (324.88, -276.225)
  line L155 (172.48, -276.225) -> (172.48, -322.2625)
  line L156 (302.26, -276.225) -> (302.26, -230.1875)
  line L157 (736.6, -230.1875) -> (584.2, -230.1875)
  line L158 (736.6, -276.225) -> (909.32, -276.225)
  line L159 (606.82, -276.225) -> (606.82, -322.2625)
  line L160 (736.6, -276.225) -> (736.6, -230.1875)
  line L161 (909.32, -276.225) -> (909.32, -230.1875)
  line L162 (909.08, -322.2625) -> (909.08, -276.225)
  line L163 (909.32, -230.1875) -> (736.6, -230.1875)
  line L164 (736.6, -230.1875) -> (736.6, -276.225)
  line L165 (606.82, -322.2625) -> (606.82, -276.225)
  line L166 (779.54, -322.2625) -> (909.08, -322.2625)
  line L167 (779.54, -276.225) -> (606.82, -276.225)
  line L168 (779.54, -322.2625) -> (779.54, -276.225)
  line L169 (909.08, -276.225) -> (779.54, -276.225)
  line L170 (779.54, -276.225) -> (779.54, -322.2625)
  line L171 (606.82, -322.2625) -> (779.54, -322.2625)
  line L172 (172.48, -322.2625) -> (324.88, -322.2625)
  line L173 (129.54, -276.225) -> (302.26, -276.225)
  line L174 (477.28, -322.2625) -> (477.28, -276.225)
  line L175 (302.26, -230.1875) -> (129.54, -230.1875)
  line L176 (172.48, -276.225) -> (-0.24, -276.225)
  line L177 (431.8, -276.225) -> (431.8, -230.1875)
  line L178 (477.28, -276.225) -> (324.88, -276.225)
  line L179 (431.8, -230.1875) -> (302.26, -230.1875)
  line L180 (477.28, -276.225) -> (477.28, -322.2625)
  line L181 (129.54, -276.225) -> (129.54, -230.1875)
  line L182 (0, -276.225) -> (129.54, -276.225)
  line L183 (0, -230.1875) -> (0, -276.225)
  line L184 (302.26, -230.1875) -> (302.26, -276.225)
  line L185 (584.2, -230.1875) -> (431.8, -230.1875)
  line L186 (172.48, -322.2625) -> (172.48, -276.225)
  line L187 (129.54, -230.1875) -> (129.54, -276.225)
  line L188 (431.8, -230.1875) -> (431.8, -276.225)
  line L189 (-0.24, -276.225) -> (-0.24, -322.2625)
  line L190 (302.26, -276.225) -> (431.8, -276.225)
  line L191 (324.88, -322.2625) -> (477.28, -322.2625)
  line L192 (-0.24, -414.3375) -> (172.48, -414.3375)
  line L193 (324.88, -368.3) -> (324.88, -414.3375)
  line L194 (129.54, -322.2625) -> (0, -322.2625)
  line L195 (584.2, -368.3) -> (736.6, -368.3)
  line L196 (431.8, -368.3) -> (584.2, -368.3)
  line L197 (324.88, -368.3) -> (172.48, -368.3)
  line L198 (477.28, -414.3375) -> (606.82, -414.3375)
  line L199 (584.2, -322.2625) -> (584.2, -368.3)
  line L200 (606.82, -368.3) -> (477.28, -368.3)
  line L201 (584.2, -368.3) -> (584.2, -322.2625)
  line L202 (324.88, -414.3375) -> (324.88, -368.3)
  line L203 (172.48, -368.3) -> (172.48, -414.3375)
  line L204 (302.26, -368.3) -> (302.26, -322.2625)
  line L205 (736.6, -322.2625) -> (584.2, -322.2625)
  line L206 (736.6, -368.3) -> (909.32, -368.3)
  line L207 (606.82, -368.3) -> (606.82, -414.3375)
  line L208 (736.6, -368.3) -> (736.6, -322.2625)
  line L209 (909.32, -368.3) -> (909.32, -322.2625)
  line L210 (909.08, -414.3375) -> (909.08, -368.3)
  line L211 (909.32, -322.2625) -> (736.6, -322.2625)
  line L212 (736.6, -322.2625) -> (736.6, -368.3)
  line L213 (606.82, -414.3375) -> (606.82, -368.3)
  line L214 (779.54, -414.3375) -> (909.08, -414.3375)
  line L215 (779.54, -368.3) -> (606.82, -368.3)
  line L216 (779.54, -414.3375) -> (779.54, -368.3)
  line L217 (909.08, -368.3) -> (779.54, -368.3)
  line L218 (779.54, -368.3) -> (779.54, -414.3375)
  line L219 (606.82, -414.3375) -> (779.54, -414.3375)
  line L220 (172.48, -414.3375) -> (324.88, -414.3375)
  line L221 (129.54, -368.3) -> (302.26, -368.3)
  line L222 (477.28, -414.3375) -> (477.28, -368.3)
  line L223 (302.26, -322.2625) -> (129.54, -322.2625)
  line L224 (172.48, -368.3) -> (-0.24, -368.3)
  line L225 (431.8, -368.3) -> (431.8, -322.2625)
  line L226 (477.28, -368.3) -> (324.88, -368.3)
  line L227 (431.8, -322.2625) -> (302.26, -322.2625)
  line L228 (477.28, -368.3) -> (477.28, -414.3375)
  line L229 (129.54, -368.3) -> (129.54, -322.2625)
  line L230 (0, -368.3) -> (129.54, -368.3)
  line L231 (0, -322.2625) -> (0, -368.3)
  line L232 (302.26, -322.2625) -> (302.26, -368.3)
  line L233 (584.2, -322.2625) -> (431.8, -322.2625)
  line L234 (172.48, -414.3375) -> (172.48, -368.3)
  line L235 (129.54, -322.2625) -> (129.54, -368.3)
  line L236 (431.8, -322.2625) -> (431.8, -368.3)
  line L237 (-0.24, -368.3) -> (-0.24, -414.3375)
  line L238 (302.26, -368.3) -> (431.8, -368.3)
  line L239 (324.88, -414.3375) -> (477.28, -414.3375)
  point P0 (0, -92.075)
  point P1 (0, -184.15)
  point P2 (0, -276.225)
  point P3 (0, -368.3)
  dimension "d56" = 46.0375
  dimension "d57" = 129.54
  dimension "d58" = 172.72
  dimension "d59" = 129.54
  dimension "d60" = 152.4
  dimension "d61" = 152.4
  dimension "d62" = 172.72
  dimension "d63" = 46.0375
  dimension "d64" = 129.54
  dimension "d65" = 172.72
  dimension "d66" = 129.54
  dimension "d67" = 152.4
  dimension "d68" = 152.4
  dimension "d69" = 172.72
  dimension "d72" = 0
  dimension "d73" = -368.3
extrude "Extrude1" add sketch "Sketch1 (2)" along normal blind 25.4 separate body contours L0 L1 L2 L3 | A0 | A1 | A2 | A3 makes body 3
extrude "Extrude2'" add sketch "Sketch1 (2)" against normal blind 5 draft -20 separate body contours A0 | A1 | A2 | A3 makes body 4 at (-79.3605, -422.4273, -1.6667) makes body 5 at (-69.3408, -81.5235, -1.6667) makes body 6 at (-684.0665, -420.5066, -1.6667) makes body 7 at (-684.0665, -64.9066, -1.6667)
fillet "Fillet1" radius 3 4 faces at (-73.7146, -434.0337, -5) (-76.2145, -76.1946, -5) (-685.2828, -431.1469, -5) (-678.2649, -75.5583, -5) on bodies 4 5 6 7
fillet "Fillet2" radius 30 4 edges at (-734.2, -480.2, 12.7) (-23, -480.2, 12.7) (-734.2, -23, 12.7) (-23, -23, 12.7) on bodies 3
chamfer "Chamfer1" distance 12 angle 45 8 edges at (-378.6, -480.2, 0) (-31.7868, -471.4132, 0) (-23, -251.6, 0) (-31.7868, -31.7868, 0) (-378.6, -23, 0) (-725.4132, -31.7868, 0) (-734.2, -251.6, 0) (-725.4132, -471.4132, 0) on bodies 3
chamfer "Chamfer2" distance 2 angle 45 8 edges at (-378.6, -480.2, 25.4) (-31.7868, -471.4132, 25.4) (-23, -251.6, 25.4) (-31.7868, -31.7868, 25.4) (-378.6, -23, 25.4) (-725.4132, -31.7868, 25.4) (-734.2, -251.6, 25.4) (-725.4132, -471.4132, 25.4) on bodies 3
component "stock" placed x (1, 0, 0) y (0, 1, 0) z (0, 0, 1) at (0, 0, 0)
component "board" placed x (1, 0, 0) y (0, 1, 0) z (0, 0, 1) at (0, 0, 0)
component "actual" placed x (1, 0, 0) y (0, 1, 0) z (0, 0, 1) at (0, 0, 0)
equation "stockThickness = 1 13/16\""
equation "stockWidth = 7 1/4\""
equation "stockLength = 46\""
equation "d4 = stockWidth"
equation "d5 = stockLength"
equation "boardWidth = 28\""
equation "boardDepth = 18\""
equation "d14 = boardWidth"
equation "d15 = boardDepth"
equation "boardThickness = 1\""
equation "d19 = d4"
equation "d20 = boardThickness"
equation "kerf = 2 mm"
equation "d26 = boardThickness + kerf"
equation "d30 = stockWidth + 23 mm"
equation "d32 = stockThickness"
equation "d34 = stockThickness"
equation "d39 = stockWidth"
equation "d40 = stockThickness"
equation "d41 = d38"
equation "d42 = d14"
equation "d43 = d15"
equation "d46 = stockWidth"
equation "d47 = -stockThickness"
equation "d56 = stockThickness"
equation "d59 = d57"
equation "d60 = 6\""
equation "d61 = d60"
equation "d62 = d58"
equation "d63 = stockThickness"
equation "d66 = d57"
equation "d67 = 6\""
equation "d68 = d60"
equation "d69 = d58"
equation "d73 = -4 * 2 * stockThickness"
equation "d74 = boardThickness"
equation "footInset = 2\""
equation "footDiameter = 3/4\""
equation "d78 = -footInset"
equation "d79 = footDiameter"
equation "d80 = d79"
equation "d81 = d79"
equation "d82 = d79"
